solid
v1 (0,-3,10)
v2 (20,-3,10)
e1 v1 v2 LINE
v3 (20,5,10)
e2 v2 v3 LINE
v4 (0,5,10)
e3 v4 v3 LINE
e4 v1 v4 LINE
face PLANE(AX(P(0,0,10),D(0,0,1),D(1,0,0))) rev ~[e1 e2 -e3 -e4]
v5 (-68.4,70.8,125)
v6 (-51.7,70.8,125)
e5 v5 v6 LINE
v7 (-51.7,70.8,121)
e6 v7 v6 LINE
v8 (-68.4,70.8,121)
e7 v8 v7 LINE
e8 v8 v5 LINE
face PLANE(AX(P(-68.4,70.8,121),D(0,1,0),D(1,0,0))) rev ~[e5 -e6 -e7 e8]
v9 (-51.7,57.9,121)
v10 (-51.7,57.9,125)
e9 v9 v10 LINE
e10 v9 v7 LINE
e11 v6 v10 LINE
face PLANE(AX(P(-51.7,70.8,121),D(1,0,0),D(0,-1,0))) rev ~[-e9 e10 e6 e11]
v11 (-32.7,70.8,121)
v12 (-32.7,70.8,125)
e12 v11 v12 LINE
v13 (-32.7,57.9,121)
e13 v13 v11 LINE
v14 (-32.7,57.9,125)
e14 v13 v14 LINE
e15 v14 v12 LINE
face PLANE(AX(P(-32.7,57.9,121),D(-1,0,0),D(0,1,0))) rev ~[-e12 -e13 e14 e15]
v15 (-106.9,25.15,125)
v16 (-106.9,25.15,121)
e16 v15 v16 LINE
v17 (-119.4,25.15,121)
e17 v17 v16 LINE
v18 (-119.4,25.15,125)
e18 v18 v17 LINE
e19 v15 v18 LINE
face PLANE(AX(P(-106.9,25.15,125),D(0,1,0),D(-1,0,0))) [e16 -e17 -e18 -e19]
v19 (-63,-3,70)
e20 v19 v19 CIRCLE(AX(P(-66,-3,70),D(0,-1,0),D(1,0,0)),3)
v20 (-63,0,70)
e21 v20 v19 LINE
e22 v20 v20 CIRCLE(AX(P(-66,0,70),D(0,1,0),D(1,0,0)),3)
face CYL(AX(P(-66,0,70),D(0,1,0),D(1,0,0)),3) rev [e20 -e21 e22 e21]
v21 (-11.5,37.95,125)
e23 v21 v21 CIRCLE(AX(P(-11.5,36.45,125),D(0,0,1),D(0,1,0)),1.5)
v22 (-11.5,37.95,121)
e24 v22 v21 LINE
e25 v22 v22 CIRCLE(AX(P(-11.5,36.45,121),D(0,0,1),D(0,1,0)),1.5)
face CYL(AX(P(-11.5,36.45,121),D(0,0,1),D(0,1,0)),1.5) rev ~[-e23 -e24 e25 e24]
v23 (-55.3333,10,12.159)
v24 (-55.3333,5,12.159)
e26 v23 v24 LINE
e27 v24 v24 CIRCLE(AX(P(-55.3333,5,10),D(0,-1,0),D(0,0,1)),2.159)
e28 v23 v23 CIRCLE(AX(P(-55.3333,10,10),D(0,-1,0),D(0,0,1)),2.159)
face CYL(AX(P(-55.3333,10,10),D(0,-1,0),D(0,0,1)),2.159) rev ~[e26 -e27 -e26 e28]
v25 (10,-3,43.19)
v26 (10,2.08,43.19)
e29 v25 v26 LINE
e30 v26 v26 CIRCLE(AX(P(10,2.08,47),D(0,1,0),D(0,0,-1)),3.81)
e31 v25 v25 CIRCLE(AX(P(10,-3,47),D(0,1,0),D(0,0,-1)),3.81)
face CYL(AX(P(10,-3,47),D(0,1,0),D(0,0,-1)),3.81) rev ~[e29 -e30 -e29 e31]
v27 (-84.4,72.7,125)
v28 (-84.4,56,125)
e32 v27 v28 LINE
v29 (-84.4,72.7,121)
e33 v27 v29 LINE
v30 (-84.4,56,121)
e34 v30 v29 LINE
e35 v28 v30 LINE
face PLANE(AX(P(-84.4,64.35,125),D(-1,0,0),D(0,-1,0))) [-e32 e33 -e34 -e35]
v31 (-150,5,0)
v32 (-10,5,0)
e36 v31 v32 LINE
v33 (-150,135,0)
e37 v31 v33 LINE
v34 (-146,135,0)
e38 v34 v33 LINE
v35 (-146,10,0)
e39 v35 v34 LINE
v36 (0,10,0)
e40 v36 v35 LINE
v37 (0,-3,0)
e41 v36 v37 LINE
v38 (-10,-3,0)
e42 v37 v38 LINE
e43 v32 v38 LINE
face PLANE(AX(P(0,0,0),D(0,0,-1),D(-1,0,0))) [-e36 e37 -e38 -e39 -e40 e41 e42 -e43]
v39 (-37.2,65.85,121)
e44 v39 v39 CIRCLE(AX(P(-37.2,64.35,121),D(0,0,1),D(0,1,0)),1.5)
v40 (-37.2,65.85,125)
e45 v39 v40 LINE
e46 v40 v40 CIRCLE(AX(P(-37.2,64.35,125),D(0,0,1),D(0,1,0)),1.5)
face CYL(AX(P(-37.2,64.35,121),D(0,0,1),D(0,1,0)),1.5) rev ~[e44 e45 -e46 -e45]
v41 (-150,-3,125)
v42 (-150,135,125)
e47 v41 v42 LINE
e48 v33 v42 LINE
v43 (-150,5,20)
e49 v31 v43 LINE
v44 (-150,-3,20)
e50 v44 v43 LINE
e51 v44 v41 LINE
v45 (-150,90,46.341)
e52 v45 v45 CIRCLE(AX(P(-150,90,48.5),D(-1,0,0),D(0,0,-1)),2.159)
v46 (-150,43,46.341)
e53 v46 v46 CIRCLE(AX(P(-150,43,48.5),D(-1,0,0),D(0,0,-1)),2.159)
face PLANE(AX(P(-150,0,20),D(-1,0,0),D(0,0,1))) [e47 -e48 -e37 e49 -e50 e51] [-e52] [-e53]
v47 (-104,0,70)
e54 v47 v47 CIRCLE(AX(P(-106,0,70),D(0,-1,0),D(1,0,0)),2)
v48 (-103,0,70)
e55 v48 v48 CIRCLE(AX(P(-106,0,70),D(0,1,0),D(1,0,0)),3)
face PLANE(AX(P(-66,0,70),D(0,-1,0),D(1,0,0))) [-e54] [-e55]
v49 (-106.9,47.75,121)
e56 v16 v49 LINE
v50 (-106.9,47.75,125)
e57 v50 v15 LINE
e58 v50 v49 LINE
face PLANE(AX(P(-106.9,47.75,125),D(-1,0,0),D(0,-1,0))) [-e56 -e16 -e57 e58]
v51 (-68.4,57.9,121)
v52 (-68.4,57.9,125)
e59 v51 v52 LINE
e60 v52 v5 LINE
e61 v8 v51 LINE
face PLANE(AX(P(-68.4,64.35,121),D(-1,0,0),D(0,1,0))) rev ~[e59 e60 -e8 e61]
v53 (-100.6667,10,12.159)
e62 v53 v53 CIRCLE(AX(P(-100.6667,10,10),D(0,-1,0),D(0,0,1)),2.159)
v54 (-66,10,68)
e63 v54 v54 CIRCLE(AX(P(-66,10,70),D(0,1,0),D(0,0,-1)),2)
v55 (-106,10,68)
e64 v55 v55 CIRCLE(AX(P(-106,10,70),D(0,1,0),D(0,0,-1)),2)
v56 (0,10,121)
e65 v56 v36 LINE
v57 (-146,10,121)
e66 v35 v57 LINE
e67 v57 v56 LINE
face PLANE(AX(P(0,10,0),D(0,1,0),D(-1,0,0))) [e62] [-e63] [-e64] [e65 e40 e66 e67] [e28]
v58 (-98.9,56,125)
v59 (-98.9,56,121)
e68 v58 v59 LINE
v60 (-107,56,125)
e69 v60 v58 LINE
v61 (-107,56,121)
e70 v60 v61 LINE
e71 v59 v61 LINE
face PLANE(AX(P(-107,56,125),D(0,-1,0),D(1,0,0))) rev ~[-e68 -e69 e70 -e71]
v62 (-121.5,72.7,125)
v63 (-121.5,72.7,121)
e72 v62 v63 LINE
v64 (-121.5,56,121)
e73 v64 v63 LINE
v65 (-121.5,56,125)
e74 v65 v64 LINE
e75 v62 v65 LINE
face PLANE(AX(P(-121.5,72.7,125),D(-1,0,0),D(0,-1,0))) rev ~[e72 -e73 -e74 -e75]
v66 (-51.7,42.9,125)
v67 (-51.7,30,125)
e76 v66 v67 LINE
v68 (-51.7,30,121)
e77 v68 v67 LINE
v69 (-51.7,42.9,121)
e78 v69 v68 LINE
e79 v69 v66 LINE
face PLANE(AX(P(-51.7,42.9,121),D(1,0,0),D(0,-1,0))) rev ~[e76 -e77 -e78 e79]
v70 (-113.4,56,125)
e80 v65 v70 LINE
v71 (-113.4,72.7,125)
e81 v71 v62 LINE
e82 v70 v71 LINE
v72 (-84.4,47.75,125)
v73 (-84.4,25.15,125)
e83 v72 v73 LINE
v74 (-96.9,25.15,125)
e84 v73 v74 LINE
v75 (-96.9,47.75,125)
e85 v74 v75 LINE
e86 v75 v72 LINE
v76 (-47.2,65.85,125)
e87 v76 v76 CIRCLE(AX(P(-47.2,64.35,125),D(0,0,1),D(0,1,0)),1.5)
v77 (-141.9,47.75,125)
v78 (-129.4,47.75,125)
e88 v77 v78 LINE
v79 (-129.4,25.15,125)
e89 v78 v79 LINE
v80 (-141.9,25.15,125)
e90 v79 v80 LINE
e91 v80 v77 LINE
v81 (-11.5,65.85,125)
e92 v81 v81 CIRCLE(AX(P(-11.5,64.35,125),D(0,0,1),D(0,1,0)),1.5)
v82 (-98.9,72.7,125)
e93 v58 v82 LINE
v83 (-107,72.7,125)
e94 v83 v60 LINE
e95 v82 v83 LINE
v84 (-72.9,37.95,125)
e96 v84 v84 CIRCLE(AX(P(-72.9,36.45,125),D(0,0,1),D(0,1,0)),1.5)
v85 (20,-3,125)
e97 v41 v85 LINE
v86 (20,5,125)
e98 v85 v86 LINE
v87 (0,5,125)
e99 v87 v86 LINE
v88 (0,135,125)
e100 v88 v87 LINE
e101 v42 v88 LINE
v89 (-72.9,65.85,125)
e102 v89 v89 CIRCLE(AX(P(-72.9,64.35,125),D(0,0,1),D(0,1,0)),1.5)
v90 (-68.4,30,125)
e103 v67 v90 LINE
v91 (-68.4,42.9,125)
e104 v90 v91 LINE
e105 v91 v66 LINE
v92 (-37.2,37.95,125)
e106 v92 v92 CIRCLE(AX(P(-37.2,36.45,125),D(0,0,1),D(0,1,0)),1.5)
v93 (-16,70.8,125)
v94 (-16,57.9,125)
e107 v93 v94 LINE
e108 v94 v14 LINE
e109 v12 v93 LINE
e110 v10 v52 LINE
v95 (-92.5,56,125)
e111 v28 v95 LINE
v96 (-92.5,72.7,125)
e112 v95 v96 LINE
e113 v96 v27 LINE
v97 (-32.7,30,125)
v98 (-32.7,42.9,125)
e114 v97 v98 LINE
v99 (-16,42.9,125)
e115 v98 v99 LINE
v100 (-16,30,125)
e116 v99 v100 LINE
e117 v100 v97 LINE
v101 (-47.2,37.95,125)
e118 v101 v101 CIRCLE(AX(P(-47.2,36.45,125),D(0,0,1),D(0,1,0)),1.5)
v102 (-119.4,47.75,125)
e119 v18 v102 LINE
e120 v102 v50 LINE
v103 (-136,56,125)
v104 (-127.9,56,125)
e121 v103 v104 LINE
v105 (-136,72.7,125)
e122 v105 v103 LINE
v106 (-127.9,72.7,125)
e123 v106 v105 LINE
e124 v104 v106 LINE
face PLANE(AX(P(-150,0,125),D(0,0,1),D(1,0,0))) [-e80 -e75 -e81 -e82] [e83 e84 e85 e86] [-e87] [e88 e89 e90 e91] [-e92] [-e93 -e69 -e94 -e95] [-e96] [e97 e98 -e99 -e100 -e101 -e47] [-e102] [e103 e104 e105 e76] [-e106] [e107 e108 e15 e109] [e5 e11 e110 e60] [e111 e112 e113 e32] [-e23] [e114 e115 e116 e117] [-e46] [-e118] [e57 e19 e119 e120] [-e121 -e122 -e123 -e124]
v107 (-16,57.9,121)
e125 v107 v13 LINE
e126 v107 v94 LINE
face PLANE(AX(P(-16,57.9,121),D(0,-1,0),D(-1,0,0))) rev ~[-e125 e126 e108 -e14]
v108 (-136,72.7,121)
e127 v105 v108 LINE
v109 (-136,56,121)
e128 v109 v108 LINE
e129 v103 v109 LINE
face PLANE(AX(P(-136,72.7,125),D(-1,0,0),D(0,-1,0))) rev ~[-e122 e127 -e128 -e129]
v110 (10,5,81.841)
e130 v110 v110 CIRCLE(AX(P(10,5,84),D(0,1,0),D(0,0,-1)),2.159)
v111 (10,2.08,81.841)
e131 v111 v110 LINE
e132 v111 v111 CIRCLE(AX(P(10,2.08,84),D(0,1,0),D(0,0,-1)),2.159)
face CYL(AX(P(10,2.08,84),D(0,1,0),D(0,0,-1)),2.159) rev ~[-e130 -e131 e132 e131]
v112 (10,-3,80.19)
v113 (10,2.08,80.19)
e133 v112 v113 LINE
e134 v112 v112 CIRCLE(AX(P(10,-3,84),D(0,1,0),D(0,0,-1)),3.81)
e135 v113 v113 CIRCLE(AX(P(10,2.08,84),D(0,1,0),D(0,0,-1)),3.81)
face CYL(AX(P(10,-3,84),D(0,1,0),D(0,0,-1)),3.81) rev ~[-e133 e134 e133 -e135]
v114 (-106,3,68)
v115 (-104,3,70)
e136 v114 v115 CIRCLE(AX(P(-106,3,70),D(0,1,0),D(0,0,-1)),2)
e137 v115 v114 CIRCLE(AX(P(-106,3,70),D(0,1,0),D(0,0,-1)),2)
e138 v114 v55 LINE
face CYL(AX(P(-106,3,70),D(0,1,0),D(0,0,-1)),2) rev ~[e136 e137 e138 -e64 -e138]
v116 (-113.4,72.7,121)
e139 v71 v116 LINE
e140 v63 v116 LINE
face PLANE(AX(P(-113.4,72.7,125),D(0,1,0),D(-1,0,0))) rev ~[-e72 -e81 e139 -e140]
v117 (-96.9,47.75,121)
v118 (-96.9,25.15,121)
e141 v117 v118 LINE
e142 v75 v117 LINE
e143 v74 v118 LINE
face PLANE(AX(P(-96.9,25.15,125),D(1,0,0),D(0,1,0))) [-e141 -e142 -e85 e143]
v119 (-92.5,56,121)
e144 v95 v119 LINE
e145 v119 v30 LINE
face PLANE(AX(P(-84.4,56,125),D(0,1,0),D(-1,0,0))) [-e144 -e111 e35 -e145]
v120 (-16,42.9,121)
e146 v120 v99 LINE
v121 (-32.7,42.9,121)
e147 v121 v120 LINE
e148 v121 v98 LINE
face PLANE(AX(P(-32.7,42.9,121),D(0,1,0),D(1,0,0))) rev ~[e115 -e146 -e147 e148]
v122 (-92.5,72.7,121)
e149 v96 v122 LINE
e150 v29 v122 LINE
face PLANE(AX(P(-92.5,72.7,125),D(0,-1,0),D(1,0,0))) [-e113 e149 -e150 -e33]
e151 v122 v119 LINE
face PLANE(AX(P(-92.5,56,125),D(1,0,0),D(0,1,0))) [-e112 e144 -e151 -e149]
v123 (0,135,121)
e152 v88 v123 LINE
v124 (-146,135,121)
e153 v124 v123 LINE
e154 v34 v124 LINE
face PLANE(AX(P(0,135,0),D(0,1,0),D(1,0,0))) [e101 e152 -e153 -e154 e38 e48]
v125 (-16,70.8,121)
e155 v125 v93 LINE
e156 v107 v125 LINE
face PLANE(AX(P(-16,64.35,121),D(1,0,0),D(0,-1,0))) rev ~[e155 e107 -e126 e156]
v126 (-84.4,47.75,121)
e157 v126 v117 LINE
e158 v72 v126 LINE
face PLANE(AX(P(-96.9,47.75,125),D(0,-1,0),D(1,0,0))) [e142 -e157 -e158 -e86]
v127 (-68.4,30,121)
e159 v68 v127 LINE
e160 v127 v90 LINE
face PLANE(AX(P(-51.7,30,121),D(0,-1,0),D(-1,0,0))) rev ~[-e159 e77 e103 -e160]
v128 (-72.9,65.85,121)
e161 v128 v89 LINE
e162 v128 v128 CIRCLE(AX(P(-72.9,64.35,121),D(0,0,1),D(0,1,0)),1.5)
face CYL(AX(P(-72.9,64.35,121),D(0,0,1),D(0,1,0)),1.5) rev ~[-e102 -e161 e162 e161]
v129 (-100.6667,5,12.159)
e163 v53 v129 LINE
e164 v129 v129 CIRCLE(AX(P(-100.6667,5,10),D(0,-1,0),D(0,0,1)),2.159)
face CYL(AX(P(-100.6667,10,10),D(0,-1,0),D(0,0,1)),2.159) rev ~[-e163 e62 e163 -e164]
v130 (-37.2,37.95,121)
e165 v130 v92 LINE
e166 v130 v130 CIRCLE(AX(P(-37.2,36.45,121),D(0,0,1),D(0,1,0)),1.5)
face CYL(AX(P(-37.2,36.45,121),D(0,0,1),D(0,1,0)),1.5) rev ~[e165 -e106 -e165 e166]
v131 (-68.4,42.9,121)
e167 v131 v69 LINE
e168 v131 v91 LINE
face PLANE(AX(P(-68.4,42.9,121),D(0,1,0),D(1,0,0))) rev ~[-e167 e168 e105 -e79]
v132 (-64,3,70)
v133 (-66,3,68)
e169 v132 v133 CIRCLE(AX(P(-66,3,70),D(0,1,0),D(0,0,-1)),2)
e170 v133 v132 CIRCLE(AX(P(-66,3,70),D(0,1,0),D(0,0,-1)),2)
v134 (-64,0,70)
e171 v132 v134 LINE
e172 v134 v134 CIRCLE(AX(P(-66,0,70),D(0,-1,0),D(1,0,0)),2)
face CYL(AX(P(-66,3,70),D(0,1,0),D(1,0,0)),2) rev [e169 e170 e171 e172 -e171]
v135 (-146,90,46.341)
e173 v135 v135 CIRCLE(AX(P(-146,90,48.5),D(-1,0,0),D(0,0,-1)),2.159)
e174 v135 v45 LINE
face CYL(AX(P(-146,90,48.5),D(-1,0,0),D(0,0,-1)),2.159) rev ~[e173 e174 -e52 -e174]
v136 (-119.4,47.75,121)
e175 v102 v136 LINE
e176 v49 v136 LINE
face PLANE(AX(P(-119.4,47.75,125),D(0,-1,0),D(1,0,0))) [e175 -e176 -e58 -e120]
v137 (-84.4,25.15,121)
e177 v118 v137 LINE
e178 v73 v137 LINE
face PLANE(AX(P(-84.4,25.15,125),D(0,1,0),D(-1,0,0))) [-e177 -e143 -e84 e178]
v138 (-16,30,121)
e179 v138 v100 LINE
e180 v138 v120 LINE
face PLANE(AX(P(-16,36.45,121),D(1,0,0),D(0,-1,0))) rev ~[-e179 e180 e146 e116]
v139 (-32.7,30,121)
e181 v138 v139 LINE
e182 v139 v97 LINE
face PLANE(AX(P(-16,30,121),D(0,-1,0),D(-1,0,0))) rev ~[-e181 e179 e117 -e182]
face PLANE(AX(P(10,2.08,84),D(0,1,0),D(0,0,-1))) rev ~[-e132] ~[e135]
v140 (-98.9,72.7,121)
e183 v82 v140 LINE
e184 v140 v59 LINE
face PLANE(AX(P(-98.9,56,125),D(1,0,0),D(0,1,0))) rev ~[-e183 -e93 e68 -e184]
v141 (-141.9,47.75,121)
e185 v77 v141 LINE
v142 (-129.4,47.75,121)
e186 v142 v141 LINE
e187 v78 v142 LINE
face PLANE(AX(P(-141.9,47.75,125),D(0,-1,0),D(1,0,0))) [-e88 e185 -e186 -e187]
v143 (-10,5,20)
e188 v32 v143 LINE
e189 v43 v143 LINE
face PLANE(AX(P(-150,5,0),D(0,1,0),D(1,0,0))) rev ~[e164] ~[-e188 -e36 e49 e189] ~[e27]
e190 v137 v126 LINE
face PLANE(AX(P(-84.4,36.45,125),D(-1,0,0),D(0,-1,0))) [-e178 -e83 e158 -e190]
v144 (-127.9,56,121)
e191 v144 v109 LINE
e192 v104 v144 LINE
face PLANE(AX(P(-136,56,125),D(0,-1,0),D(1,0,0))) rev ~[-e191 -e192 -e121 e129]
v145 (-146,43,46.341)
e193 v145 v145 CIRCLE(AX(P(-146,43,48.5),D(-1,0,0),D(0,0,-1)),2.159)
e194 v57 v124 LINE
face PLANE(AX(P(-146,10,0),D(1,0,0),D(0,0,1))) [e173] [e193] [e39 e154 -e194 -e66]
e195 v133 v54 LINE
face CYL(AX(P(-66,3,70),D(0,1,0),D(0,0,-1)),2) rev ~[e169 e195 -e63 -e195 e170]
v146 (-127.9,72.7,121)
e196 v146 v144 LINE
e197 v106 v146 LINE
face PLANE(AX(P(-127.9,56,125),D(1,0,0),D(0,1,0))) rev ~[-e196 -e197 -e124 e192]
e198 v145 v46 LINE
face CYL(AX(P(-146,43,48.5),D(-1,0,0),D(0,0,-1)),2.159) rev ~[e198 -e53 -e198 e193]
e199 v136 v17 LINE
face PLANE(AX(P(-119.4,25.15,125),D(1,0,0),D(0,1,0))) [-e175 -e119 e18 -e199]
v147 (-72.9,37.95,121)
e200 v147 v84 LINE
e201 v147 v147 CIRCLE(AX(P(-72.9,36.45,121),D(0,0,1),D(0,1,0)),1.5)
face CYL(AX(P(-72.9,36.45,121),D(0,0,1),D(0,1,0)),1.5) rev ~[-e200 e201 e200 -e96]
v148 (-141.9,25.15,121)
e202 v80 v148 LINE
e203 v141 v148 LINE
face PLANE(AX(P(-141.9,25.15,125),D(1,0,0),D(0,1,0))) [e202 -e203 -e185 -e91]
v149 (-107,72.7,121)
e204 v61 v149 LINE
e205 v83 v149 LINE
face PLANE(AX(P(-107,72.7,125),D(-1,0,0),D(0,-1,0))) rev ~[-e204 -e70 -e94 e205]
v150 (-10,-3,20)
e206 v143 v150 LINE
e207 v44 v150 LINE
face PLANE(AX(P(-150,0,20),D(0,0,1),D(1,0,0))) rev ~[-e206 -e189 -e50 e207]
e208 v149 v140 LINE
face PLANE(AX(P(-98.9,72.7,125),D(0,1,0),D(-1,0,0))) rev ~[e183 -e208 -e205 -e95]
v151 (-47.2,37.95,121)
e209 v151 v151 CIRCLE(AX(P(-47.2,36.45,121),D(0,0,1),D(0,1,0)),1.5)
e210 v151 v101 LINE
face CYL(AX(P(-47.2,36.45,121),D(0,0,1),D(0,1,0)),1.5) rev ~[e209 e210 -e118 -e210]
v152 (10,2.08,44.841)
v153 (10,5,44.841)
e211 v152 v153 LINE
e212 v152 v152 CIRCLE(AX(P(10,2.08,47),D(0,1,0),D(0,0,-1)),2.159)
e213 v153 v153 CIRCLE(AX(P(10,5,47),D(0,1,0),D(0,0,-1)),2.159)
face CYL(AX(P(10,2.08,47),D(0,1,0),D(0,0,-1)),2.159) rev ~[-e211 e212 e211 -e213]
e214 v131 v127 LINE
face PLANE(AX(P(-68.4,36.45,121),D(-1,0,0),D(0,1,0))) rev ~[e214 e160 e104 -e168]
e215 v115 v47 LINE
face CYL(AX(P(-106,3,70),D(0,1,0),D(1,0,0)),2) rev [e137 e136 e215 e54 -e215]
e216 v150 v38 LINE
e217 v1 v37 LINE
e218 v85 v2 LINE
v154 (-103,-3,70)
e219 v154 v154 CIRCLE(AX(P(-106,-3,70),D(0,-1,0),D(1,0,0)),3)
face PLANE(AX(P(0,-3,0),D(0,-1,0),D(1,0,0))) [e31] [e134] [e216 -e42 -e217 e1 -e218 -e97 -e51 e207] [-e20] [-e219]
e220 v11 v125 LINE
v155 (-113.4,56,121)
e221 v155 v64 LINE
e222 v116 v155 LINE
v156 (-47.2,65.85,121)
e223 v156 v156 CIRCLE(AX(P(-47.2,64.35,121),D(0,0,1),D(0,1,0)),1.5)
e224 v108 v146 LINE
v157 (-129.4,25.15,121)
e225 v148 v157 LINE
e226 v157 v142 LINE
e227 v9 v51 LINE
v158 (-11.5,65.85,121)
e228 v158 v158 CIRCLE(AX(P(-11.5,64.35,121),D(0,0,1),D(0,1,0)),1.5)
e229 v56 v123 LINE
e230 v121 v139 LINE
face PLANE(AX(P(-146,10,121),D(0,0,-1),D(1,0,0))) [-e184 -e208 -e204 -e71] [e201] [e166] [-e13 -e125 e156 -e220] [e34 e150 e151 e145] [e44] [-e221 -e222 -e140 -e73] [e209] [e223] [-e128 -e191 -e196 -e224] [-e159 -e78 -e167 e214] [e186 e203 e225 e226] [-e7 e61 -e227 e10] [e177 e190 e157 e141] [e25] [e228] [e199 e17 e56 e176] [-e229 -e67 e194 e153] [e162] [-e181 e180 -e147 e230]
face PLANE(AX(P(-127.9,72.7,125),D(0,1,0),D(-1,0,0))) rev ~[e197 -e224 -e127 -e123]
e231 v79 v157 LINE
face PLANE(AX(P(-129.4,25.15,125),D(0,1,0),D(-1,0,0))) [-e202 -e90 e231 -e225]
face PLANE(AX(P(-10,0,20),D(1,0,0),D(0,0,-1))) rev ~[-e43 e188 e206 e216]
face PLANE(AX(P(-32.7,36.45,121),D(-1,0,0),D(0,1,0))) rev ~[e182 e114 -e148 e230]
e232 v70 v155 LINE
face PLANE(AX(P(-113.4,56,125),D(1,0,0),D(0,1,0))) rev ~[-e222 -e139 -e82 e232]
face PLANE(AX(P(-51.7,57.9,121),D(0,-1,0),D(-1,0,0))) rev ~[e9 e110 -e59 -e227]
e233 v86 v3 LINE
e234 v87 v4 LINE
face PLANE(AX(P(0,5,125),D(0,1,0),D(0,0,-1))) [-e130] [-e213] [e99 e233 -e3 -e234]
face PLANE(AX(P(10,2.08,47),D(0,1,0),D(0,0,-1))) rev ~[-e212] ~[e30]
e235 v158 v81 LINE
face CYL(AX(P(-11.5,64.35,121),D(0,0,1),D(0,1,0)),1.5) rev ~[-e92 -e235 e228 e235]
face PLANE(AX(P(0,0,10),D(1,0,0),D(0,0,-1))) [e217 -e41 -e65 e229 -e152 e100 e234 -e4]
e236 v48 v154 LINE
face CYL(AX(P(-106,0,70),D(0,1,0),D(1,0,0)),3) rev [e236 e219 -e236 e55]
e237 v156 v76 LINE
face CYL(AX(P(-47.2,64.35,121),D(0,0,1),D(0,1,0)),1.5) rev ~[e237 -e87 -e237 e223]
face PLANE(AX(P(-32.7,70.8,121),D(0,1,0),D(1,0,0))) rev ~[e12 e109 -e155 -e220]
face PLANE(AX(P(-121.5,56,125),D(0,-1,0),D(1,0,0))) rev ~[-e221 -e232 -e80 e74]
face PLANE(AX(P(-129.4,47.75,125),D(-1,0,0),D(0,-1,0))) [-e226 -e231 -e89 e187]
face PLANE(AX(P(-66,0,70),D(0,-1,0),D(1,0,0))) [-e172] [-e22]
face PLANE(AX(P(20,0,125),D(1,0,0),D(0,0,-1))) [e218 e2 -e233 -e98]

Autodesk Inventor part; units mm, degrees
ref_plane "YZ Plane" through (0, 0, 0) normal (1, 0, 0) x (0, 1, 0)
ref_plane "XZ Plane" through (0, 0, 0) normal (0, 1, 0) x (-1, 0, 0)
ref_plane "XY Plane" through (0, 0, 0) normal (0, 0, 1) x (1, 0, 0)
sketch "Sketch1" plane through (0, 0, 0) normal (0, 1, 0) x (-1, 0, 0)
  line L0 (0, 0) -> (150, 0)
  line L1 (150, 0) -> (150, 125)
  line L2 (150, 125) -> (0, 125)
  line L3 (0, 125) -> (0, 0)
  dimension "d0" = 150
  dimension "d1" = 125
extrude "Extrusion1" add sketch "Sketch1" along normal blind 10
sketch "Sketch2" plane through (0, 10, 0) normal (0, 1, 0) x (1, 0, 0)
  line L0 (0, -125) -> (0, 0) projected
  line L1 (0, 0) -> (-146, 0)
  line L2 (-146, 0) -> (-146, -121)
  line L3 (-146, -121) -> (0, -121)
  line L4 (0, -121) -> (0, 0)
  line L5 (0, -125) -> (0, 0) projected
  line L6 (0, 0) -> (-150, 0) projected
  line L7 (-150, 0) -> (-150, -125) projected
  line L8 (-150, -125) -> (0, -125) projected
  point P0 (-146, 0)
  dimension "d4" = 146
  dimension "d5" = 121
extrude "Extrusion2" add sketch "Sketch2" along normal blind 125 contours L8 L7 L6 L2 L3 L0
sketch "Sketch3" plane through (0, 0, 125) normal (1, 0, 0) x (0, 0, -1)
  line L0 (0, 0) -> (0, 135) projected
  line L1 (0, 0) -> (0, 5)
  line L2 (125, 0) -> (125, 10) projected
  line L3 (125, 0) -> (0, 0) projected
  line L4 (125, 0) -> (0, 0)
  line L5 (0, 5) -> (115, 5)
  line L6 (115, 5) -> (125, 5)
  line L7 (115, 5) -> (115, 0)
  line L8 (0, 0) -> (125, 0) projected
  dimension "d8" = 5
  dimension "d95" = 125
  dimension "d96" = 115
sketch "Sketch4" plane through (0, 10, 121) normal (0, 0, -1) x (-1, 0, 0)
  line L0 (0, 20) -> (16, 20)
  line L1 (16, 20) -> (32.7, 20)
  line L2 (32.7, 20) -> (32.7, 32.9)
  line L3 (32.7, 32.9) -> (16, 32.9)
  line L4 (16, 32.9) -> (16, 20)
  line L5 (16, 26.45) -> (13, 26.45)
  line L6 (13, 26.45) -> (11.5, 26.45)
  circle A0 centre (11.5, 26.45) radius 1.5
  line L7 (32.7, 26.45) -> (37.2, 26.45)
  circle A1 centre (37.2, 26.45) radius 1.5
  line L8 (16, 32.9) -> (16, 47.9)
  line L9 (16, 47.9) -> (32.7, 47.9)
  line L10 (32.7, 47.9) -> (32.7, 60.8)
  line L11 (32.7, 60.8) -> (16, 60.8)
  line L12 (16, 60.8) -> (16, 47.9)
  line L13 (16, 54.35) -> (11.5, 54.35)
  line L14 (11.5, 54.35) -> (37.2, 54.35)
  circle A2 centre (11.5, 54.35) radius 1.5
  circle A3 centre (37.2, 54.35) radius 1.5
  line L15 (47.2, 54.35) -> (51.7, 54.35)
  line L16 (51.7, 54.35) -> (51.7, 47.9)
  line L17 (51.7, 47.9) -> (68.4, 47.9)
  line L18 (68.4, 47.9) -> (68.4, 60.8)
  line L19 (68.4, 60.8) -> (51.7, 60.8)
  line L20 (51.7, 60.8) -> (51.7, 54.35)
  line L21 (68.4, 54.35) -> (72.9, 54.35)
  circle A4 centre (47.2, 54.35) radius 1.5
  circle A5 centre (72.9, 54.35) radius 1.5
  line L22 (0, 0) -> (0, 125) projected
  line L23 (0, 20) -> (0, 0)
  line L24 (51.7, 32.9) -> (51.7, 20)
  line L25 (51.7, 20) -> (68.4, 20)
  line L26 (68.4, 20) -> (68.4, 32.9)
  line L27 (68.4, 32.9) -> (51.7, 32.9)
  line L28 (68.4, 26.45) -> (72.9, 26.45)
  line L29 (72.9, 26.45) -> (47.2, 26.45)
  circle A6 centre (47.2, 26.45) radius 1.5
  circle A7 centre (72.9, 26.45) radius 1.5
  line L30 (68.4, 47.9) -> (68.4, 32.9)
  line L31 (37.2, 54.35) -> (47.2, 54.35)
  point P0 (0, -10)
  dimension "d12" = 16
  dimension "d13" = 16.7
  dimension "d14" = 12.9
  dimension "d15" = 3
  dimension "d16" = 1.5
  dimension "d17" = 4.5
  dimension "d18" = 3
  dimension "d19" = 15
  dimension "d20" = 12.9
  dimension "d23" = 4.5
  dimension "d25" = 4.5
  dimension "d29" = 3
  dimension "d30" = 3
  dimension "d57" = 20
  dimension "d58" = 3
  dimension "d59" = 3
  dimension "d60" = 16.7
  dimension "d62" = 15
  dimension "d73" = 3
  dimension "d74" = 10
  dimension "d75" = 4.5
  dimension "d76" = 16.7
  dimension "d77" = 16.7
extrude "Extrusion4" cut sketch "Sketch4" against normal blind 125 contours L4 L3 L2 L1 | L26 L29 L24 L27 | L20 L19 L18 L17 L16 | L12 L14 L10 L9 | L12 L11 L10 L14 | L26 L25 L24 L29
hole "Hole1" at (-11.5, 64.35, 121) at (-37.2, 64.35, 121) at (-47.2, 64.35, 121) at (-72.9, 64.35, 121) at (-37.2, 36.45, 121) at (-11.5, 36.45, 121) at (-47.2, 36.45, 121) at (-72.9, 36.45, 121) direction (0, 0, 1) diameter 3 end through all
sketch "Sketch5" plane through (-150, 135, 125) normal (0, 0, 1) x (1, 0, 0)
  circle A0 centre (77.1, -70.65) radius 1.5 projected
  line L0 (77.1, -70.65) -> (65.6, -70.65)
  line L1 (65.6, -70.65) -> (65.6, -62.3)
  line L2 (65.6, -62.3) -> (65.6, -79)
  line L3 (65.6, -79) -> (57.5, -79)
  line L4 (57.5, -79) -> (57.5, -62.3)
  line L5 (57.5, -62.3) -> (65.6, -62.3)
  line L6 (57.5, -62.3) -> (51.1, -62.3)
  line L7 (51.1, -62.3) -> (36.6, -62.3)
  line L8 (51.1, -62.3) -> (43, -62.3)
  line L9 (43, -62.3) -> (43, -79)
  line L10 (43, -79) -> (51.1, -79)
  line L11 (51.1, -79) -> (51.1, -62.3)
  line L12 (36.6, -62.3) -> (28.5, -62.3)
  line L13 (28.5, -62.3) -> (28.5, -79)
  line L14 (28.5, -79) -> (36.6, -79)
  line L15 (36.6, -79) -> (36.6, -62.3)
  line L16 (28.5, -62.3) -> (22.1, -62.3)
  line L17 (22.1, -62.3) -> (14, -62.3)
  line L18 (14, -62.3) -> (14, -79)
  line L19 (14, -79) -> (22.1, -79)
  line L20 (22.1, -79) -> (22.1, -62.3)
  point P0 (150, -135)
  point P1 (43, -62.3)
  dimension "d41" = 11.5
  dimension "d43" = 8.35
  dimension "d44" = 16.7
  dimension "d45" = 8.1
  dimension "d46" = 6.4
  dimension "d47" = 14.5
  dimension "d48" = 8.1
  dimension "d49" = 16.7
  dimension "d50" = 8.1
  dimension "d51" = 16.7
  dimension "d52" = 6.4
  dimension "d53" = 8.1
  dimension "d54" = 16.7
extrude "Extrusion5" cut sketch "Sketch5" against normal blind 10 contours L20 L19 L18 L17 | L15 L14 L13 L12 | L11 L10 L9 L7 | L2 L3 L4 L5 L1
sketch "Sketch8" plane through (-150, 135, 125) normal (0, 0, 1) x (1, 0, 0)
  circle A0 centre (77.1, -98.55) radius 1.5 projected
  line L0 (77.1, -98.55) -> (65.6, -98.55)
  line L1 (65.6, -98.55) -> (65.6, -87.25)
  line L2 (65.6, -87.25) -> (65.6, -109.85)
  line L3 (65.6, -109.85) -> (53.1, -109.85)
  line L4 (53.1, -109.85) -> (53.1, -87.25)
  line L5 (53.1, -87.25) -> (65.6, -87.25)
  line L6 (53.1, -87.25) -> (43.1, -87.25)
  line L7 (43.1, -87.25) -> (43.1, -109.85)
  line L8 (43.1, -109.85) -> (30.6, -109.85)
  line L9 (30.6, -109.85) -> (30.6, -87.25)
  line L10 (30.6, -87.25) -> (43.1, -87.25)
  line L11 (30.6, -87.25) -> (20.6, -87.25)
  line L12 (20.6, -87.25) -> (20.6, -109.85)
  line L13 (20.6, -109.85) -> (8.1, -109.85)
  line L14 (8.1, -109.85) -> (8.1, -87.25)
  line L15 (8.1, -87.25) -> (20.6, -87.25)
  dimension "d63" = 11.5
  dimension "d64" = 11.3
  dimension "d65" = 22.6
  dimension "d66" = 12.5
  dimension "d67" = 10
  dimension "d68" = 12.5
  dimension "d69" = 10
  dimension "d70" = 22.6
  dimension "d71" = 12.5
  dimension "d113" = 22.6
extrude "Extrusion6" cut sketch "Sketch8" against normal blind 10 contours L12 L13 L14 L15 | L7 L8 L9 L10 | L2 L3 L4 L5 L1
sketch "Sketch9" plane through (-146, 10, 121) normal (1, 0, 0) x (0, 0, -1)
  line L0 (0, 0) -> (0, 125) projected
  line L1 (0, 125) -> (50, 125)
  line L2 (0, 125) -> (121, 125) projected
  line L3 (50, 125) -> (50, 85)
  line L4 (50, 85) -> (95, 85)
  line L5 (95, 85) -> (95, 28)
  line L6 (95, 28) -> (50, 28)
  line L7 (50, 28) -> (50, 85)
  line L8 (72.5, 85) -> (72.5, 80)
  line L9 (72.5, 80) -> (72.5, 33)
  circle A0 centre (72.5, 80) radius 2.5
  circle A1 centre (72.5, 33) radius 2.5
  point P0 (121, -10)
  dimension "d80" = 50
  dimension "d81" = 40
  dimension "d82" = 45
  dimension "d83" = 57
  dimension "d84" = 5
  dimension "d85" = 47
  dimension "d86" = 5
  dimension "d87" = 5
hole "Hole2" at (-146, 90, 48.5) at (-146, 43, 48.5) direction (-1, 0, 0) diameter 4.318 end through all
extrude "Extrusion7" add sketch "Sketch3" along normal blind 20 contours L0 L5 L7 L3
sketch "Sketch10" plane through (0, 0, 0) normal (0, -1, 0) x (1, 0, 0)
  point P0 (0, 0)
sketch "Sketch11" plane through (0, 0, 0) normal (0, 0, -1) x (-1, 0, 0)
  line L0 (150, 0) -> (150, 135) projected
  line L1 (150, 0) -> (150, 5)
  line L2 (150, 5) -> (10, 5)
  line L3 (10, 5) -> (10, 0)
  line L4 (10, 0) -> (150, 0)
  point P0 (0, 0)
  dimension "d99" = 5
  dimension "d100" = 140
extrude "Extrusion8" cut sketch "Sketch11" against normal blind 20
sketch "Sketch13" plane through (0, 10, 0) normal (0, 1, 0) x (1, 0, 0)
  line L0 (0, 0) -> (-146, 0) projected
  line L1 (0, 0) -> (-10, 0)
  line L2 (-10, 0) -> (-55.3333, 0)
  line L3 (-55.3333, 0) -> (-100.6667, 0)
  line L4 (-100.6667, 0) -> (-100.6667, -10)
  line L5 (-55.3333, 0) -> (-55.3333, -10)
  dimension "d114" = 10
  dimension "d115" = 45.3333
  dimension "d116" = 45.3333
  dimension "d117" = 10
  dimension "d118" = 10
hole "Hole4" at (-100.6667, 10, 10) at (-55.3333, 10, 10) direction (0, -1, 0) diameter 4.318 end through all
sketch "Sketch12" plane through (0, 0, 0) normal (0, 1, 0) x (1, 0, 0)
  line L0 (-146, -121) -> (-146, 0) projected
  line L1 (-146, 0) -> (-106, 0)
  line L2 (0, 0) -> (-146, 0) projected
  line L3 (-106, 0) -> (-106, -70)
  line L4 (-106, -70) -> (-66, -70)
  dimension "d103" = 40
  dimension "d104" = 70
  dimension "d105" = 40
hole "Hole3" at (-66, 0, 70) at (-106, 0, 70) direction (0, 1, 0) diameter 4 end through all counterbore diameter 6 counterbore depth 3
sketch "Sketch16" plane through (0, 0, 0) normal (0, -1, 0) x (1, 0, 0)
  circle A0 centre (-66, 70) radius 3 projected
  circle A1 centre (-106, 70) radius 3 projected
  line L0 (-10, 20) -> (-10, 0) projected
  line L1 (0, 0) -> (-10, 0) projected
  line L2 (0, 10) -> (0, 0) projected
  line L3 (0, 10) -> (20, 10) projected
  line L4 (20, 125) -> (20, 10) projected
  line L5 (-150, 125) -> (20, 125) projected
  line L6 (-150, 20) -> (-150, 125) projected
  line L7 (-150, 20) -> (-10, 20) projected
extrude "Extrusion10" add sketch "Sketch16" along normal blind 3
sketch "Sketch17" plane through (-66, 3, 70) normal (0, -1, 0) x (1, 0, 0)
  circle A0 centre (0, 0) radius 3 projected
  circle A1 centre (0, 0) radius 2 projected
  circle A2 centre (-40, 0) radius 3 projected
  circle A3 centre (-40, 0) radius 2 projected
  point P0 (66, -70)
extrude "Extrusion11" add sketch "Sketch17" along normal blind 3
sketch "Sketch18" plane through (0, -3, 0) normal (0, -1, 0) x (1, 0, 0)
  circle A0 centre (10, 84) radius 1.75 projected
  circle A1 centre (10, 84) radius 1.75
  circle A2 centre (10, 47) radius 1.75 projected
  circle A3 centre (10, 47) radius 1.75
  point P0 (0, 0)
hole "Hole6" at (10, -3, 47) at (10, -3, 84) direction (0, 1, 0) diameter 4.318 end through all counterbore diameter 7.62 counterbore depth 5.08
properties part number "Quarter4"
